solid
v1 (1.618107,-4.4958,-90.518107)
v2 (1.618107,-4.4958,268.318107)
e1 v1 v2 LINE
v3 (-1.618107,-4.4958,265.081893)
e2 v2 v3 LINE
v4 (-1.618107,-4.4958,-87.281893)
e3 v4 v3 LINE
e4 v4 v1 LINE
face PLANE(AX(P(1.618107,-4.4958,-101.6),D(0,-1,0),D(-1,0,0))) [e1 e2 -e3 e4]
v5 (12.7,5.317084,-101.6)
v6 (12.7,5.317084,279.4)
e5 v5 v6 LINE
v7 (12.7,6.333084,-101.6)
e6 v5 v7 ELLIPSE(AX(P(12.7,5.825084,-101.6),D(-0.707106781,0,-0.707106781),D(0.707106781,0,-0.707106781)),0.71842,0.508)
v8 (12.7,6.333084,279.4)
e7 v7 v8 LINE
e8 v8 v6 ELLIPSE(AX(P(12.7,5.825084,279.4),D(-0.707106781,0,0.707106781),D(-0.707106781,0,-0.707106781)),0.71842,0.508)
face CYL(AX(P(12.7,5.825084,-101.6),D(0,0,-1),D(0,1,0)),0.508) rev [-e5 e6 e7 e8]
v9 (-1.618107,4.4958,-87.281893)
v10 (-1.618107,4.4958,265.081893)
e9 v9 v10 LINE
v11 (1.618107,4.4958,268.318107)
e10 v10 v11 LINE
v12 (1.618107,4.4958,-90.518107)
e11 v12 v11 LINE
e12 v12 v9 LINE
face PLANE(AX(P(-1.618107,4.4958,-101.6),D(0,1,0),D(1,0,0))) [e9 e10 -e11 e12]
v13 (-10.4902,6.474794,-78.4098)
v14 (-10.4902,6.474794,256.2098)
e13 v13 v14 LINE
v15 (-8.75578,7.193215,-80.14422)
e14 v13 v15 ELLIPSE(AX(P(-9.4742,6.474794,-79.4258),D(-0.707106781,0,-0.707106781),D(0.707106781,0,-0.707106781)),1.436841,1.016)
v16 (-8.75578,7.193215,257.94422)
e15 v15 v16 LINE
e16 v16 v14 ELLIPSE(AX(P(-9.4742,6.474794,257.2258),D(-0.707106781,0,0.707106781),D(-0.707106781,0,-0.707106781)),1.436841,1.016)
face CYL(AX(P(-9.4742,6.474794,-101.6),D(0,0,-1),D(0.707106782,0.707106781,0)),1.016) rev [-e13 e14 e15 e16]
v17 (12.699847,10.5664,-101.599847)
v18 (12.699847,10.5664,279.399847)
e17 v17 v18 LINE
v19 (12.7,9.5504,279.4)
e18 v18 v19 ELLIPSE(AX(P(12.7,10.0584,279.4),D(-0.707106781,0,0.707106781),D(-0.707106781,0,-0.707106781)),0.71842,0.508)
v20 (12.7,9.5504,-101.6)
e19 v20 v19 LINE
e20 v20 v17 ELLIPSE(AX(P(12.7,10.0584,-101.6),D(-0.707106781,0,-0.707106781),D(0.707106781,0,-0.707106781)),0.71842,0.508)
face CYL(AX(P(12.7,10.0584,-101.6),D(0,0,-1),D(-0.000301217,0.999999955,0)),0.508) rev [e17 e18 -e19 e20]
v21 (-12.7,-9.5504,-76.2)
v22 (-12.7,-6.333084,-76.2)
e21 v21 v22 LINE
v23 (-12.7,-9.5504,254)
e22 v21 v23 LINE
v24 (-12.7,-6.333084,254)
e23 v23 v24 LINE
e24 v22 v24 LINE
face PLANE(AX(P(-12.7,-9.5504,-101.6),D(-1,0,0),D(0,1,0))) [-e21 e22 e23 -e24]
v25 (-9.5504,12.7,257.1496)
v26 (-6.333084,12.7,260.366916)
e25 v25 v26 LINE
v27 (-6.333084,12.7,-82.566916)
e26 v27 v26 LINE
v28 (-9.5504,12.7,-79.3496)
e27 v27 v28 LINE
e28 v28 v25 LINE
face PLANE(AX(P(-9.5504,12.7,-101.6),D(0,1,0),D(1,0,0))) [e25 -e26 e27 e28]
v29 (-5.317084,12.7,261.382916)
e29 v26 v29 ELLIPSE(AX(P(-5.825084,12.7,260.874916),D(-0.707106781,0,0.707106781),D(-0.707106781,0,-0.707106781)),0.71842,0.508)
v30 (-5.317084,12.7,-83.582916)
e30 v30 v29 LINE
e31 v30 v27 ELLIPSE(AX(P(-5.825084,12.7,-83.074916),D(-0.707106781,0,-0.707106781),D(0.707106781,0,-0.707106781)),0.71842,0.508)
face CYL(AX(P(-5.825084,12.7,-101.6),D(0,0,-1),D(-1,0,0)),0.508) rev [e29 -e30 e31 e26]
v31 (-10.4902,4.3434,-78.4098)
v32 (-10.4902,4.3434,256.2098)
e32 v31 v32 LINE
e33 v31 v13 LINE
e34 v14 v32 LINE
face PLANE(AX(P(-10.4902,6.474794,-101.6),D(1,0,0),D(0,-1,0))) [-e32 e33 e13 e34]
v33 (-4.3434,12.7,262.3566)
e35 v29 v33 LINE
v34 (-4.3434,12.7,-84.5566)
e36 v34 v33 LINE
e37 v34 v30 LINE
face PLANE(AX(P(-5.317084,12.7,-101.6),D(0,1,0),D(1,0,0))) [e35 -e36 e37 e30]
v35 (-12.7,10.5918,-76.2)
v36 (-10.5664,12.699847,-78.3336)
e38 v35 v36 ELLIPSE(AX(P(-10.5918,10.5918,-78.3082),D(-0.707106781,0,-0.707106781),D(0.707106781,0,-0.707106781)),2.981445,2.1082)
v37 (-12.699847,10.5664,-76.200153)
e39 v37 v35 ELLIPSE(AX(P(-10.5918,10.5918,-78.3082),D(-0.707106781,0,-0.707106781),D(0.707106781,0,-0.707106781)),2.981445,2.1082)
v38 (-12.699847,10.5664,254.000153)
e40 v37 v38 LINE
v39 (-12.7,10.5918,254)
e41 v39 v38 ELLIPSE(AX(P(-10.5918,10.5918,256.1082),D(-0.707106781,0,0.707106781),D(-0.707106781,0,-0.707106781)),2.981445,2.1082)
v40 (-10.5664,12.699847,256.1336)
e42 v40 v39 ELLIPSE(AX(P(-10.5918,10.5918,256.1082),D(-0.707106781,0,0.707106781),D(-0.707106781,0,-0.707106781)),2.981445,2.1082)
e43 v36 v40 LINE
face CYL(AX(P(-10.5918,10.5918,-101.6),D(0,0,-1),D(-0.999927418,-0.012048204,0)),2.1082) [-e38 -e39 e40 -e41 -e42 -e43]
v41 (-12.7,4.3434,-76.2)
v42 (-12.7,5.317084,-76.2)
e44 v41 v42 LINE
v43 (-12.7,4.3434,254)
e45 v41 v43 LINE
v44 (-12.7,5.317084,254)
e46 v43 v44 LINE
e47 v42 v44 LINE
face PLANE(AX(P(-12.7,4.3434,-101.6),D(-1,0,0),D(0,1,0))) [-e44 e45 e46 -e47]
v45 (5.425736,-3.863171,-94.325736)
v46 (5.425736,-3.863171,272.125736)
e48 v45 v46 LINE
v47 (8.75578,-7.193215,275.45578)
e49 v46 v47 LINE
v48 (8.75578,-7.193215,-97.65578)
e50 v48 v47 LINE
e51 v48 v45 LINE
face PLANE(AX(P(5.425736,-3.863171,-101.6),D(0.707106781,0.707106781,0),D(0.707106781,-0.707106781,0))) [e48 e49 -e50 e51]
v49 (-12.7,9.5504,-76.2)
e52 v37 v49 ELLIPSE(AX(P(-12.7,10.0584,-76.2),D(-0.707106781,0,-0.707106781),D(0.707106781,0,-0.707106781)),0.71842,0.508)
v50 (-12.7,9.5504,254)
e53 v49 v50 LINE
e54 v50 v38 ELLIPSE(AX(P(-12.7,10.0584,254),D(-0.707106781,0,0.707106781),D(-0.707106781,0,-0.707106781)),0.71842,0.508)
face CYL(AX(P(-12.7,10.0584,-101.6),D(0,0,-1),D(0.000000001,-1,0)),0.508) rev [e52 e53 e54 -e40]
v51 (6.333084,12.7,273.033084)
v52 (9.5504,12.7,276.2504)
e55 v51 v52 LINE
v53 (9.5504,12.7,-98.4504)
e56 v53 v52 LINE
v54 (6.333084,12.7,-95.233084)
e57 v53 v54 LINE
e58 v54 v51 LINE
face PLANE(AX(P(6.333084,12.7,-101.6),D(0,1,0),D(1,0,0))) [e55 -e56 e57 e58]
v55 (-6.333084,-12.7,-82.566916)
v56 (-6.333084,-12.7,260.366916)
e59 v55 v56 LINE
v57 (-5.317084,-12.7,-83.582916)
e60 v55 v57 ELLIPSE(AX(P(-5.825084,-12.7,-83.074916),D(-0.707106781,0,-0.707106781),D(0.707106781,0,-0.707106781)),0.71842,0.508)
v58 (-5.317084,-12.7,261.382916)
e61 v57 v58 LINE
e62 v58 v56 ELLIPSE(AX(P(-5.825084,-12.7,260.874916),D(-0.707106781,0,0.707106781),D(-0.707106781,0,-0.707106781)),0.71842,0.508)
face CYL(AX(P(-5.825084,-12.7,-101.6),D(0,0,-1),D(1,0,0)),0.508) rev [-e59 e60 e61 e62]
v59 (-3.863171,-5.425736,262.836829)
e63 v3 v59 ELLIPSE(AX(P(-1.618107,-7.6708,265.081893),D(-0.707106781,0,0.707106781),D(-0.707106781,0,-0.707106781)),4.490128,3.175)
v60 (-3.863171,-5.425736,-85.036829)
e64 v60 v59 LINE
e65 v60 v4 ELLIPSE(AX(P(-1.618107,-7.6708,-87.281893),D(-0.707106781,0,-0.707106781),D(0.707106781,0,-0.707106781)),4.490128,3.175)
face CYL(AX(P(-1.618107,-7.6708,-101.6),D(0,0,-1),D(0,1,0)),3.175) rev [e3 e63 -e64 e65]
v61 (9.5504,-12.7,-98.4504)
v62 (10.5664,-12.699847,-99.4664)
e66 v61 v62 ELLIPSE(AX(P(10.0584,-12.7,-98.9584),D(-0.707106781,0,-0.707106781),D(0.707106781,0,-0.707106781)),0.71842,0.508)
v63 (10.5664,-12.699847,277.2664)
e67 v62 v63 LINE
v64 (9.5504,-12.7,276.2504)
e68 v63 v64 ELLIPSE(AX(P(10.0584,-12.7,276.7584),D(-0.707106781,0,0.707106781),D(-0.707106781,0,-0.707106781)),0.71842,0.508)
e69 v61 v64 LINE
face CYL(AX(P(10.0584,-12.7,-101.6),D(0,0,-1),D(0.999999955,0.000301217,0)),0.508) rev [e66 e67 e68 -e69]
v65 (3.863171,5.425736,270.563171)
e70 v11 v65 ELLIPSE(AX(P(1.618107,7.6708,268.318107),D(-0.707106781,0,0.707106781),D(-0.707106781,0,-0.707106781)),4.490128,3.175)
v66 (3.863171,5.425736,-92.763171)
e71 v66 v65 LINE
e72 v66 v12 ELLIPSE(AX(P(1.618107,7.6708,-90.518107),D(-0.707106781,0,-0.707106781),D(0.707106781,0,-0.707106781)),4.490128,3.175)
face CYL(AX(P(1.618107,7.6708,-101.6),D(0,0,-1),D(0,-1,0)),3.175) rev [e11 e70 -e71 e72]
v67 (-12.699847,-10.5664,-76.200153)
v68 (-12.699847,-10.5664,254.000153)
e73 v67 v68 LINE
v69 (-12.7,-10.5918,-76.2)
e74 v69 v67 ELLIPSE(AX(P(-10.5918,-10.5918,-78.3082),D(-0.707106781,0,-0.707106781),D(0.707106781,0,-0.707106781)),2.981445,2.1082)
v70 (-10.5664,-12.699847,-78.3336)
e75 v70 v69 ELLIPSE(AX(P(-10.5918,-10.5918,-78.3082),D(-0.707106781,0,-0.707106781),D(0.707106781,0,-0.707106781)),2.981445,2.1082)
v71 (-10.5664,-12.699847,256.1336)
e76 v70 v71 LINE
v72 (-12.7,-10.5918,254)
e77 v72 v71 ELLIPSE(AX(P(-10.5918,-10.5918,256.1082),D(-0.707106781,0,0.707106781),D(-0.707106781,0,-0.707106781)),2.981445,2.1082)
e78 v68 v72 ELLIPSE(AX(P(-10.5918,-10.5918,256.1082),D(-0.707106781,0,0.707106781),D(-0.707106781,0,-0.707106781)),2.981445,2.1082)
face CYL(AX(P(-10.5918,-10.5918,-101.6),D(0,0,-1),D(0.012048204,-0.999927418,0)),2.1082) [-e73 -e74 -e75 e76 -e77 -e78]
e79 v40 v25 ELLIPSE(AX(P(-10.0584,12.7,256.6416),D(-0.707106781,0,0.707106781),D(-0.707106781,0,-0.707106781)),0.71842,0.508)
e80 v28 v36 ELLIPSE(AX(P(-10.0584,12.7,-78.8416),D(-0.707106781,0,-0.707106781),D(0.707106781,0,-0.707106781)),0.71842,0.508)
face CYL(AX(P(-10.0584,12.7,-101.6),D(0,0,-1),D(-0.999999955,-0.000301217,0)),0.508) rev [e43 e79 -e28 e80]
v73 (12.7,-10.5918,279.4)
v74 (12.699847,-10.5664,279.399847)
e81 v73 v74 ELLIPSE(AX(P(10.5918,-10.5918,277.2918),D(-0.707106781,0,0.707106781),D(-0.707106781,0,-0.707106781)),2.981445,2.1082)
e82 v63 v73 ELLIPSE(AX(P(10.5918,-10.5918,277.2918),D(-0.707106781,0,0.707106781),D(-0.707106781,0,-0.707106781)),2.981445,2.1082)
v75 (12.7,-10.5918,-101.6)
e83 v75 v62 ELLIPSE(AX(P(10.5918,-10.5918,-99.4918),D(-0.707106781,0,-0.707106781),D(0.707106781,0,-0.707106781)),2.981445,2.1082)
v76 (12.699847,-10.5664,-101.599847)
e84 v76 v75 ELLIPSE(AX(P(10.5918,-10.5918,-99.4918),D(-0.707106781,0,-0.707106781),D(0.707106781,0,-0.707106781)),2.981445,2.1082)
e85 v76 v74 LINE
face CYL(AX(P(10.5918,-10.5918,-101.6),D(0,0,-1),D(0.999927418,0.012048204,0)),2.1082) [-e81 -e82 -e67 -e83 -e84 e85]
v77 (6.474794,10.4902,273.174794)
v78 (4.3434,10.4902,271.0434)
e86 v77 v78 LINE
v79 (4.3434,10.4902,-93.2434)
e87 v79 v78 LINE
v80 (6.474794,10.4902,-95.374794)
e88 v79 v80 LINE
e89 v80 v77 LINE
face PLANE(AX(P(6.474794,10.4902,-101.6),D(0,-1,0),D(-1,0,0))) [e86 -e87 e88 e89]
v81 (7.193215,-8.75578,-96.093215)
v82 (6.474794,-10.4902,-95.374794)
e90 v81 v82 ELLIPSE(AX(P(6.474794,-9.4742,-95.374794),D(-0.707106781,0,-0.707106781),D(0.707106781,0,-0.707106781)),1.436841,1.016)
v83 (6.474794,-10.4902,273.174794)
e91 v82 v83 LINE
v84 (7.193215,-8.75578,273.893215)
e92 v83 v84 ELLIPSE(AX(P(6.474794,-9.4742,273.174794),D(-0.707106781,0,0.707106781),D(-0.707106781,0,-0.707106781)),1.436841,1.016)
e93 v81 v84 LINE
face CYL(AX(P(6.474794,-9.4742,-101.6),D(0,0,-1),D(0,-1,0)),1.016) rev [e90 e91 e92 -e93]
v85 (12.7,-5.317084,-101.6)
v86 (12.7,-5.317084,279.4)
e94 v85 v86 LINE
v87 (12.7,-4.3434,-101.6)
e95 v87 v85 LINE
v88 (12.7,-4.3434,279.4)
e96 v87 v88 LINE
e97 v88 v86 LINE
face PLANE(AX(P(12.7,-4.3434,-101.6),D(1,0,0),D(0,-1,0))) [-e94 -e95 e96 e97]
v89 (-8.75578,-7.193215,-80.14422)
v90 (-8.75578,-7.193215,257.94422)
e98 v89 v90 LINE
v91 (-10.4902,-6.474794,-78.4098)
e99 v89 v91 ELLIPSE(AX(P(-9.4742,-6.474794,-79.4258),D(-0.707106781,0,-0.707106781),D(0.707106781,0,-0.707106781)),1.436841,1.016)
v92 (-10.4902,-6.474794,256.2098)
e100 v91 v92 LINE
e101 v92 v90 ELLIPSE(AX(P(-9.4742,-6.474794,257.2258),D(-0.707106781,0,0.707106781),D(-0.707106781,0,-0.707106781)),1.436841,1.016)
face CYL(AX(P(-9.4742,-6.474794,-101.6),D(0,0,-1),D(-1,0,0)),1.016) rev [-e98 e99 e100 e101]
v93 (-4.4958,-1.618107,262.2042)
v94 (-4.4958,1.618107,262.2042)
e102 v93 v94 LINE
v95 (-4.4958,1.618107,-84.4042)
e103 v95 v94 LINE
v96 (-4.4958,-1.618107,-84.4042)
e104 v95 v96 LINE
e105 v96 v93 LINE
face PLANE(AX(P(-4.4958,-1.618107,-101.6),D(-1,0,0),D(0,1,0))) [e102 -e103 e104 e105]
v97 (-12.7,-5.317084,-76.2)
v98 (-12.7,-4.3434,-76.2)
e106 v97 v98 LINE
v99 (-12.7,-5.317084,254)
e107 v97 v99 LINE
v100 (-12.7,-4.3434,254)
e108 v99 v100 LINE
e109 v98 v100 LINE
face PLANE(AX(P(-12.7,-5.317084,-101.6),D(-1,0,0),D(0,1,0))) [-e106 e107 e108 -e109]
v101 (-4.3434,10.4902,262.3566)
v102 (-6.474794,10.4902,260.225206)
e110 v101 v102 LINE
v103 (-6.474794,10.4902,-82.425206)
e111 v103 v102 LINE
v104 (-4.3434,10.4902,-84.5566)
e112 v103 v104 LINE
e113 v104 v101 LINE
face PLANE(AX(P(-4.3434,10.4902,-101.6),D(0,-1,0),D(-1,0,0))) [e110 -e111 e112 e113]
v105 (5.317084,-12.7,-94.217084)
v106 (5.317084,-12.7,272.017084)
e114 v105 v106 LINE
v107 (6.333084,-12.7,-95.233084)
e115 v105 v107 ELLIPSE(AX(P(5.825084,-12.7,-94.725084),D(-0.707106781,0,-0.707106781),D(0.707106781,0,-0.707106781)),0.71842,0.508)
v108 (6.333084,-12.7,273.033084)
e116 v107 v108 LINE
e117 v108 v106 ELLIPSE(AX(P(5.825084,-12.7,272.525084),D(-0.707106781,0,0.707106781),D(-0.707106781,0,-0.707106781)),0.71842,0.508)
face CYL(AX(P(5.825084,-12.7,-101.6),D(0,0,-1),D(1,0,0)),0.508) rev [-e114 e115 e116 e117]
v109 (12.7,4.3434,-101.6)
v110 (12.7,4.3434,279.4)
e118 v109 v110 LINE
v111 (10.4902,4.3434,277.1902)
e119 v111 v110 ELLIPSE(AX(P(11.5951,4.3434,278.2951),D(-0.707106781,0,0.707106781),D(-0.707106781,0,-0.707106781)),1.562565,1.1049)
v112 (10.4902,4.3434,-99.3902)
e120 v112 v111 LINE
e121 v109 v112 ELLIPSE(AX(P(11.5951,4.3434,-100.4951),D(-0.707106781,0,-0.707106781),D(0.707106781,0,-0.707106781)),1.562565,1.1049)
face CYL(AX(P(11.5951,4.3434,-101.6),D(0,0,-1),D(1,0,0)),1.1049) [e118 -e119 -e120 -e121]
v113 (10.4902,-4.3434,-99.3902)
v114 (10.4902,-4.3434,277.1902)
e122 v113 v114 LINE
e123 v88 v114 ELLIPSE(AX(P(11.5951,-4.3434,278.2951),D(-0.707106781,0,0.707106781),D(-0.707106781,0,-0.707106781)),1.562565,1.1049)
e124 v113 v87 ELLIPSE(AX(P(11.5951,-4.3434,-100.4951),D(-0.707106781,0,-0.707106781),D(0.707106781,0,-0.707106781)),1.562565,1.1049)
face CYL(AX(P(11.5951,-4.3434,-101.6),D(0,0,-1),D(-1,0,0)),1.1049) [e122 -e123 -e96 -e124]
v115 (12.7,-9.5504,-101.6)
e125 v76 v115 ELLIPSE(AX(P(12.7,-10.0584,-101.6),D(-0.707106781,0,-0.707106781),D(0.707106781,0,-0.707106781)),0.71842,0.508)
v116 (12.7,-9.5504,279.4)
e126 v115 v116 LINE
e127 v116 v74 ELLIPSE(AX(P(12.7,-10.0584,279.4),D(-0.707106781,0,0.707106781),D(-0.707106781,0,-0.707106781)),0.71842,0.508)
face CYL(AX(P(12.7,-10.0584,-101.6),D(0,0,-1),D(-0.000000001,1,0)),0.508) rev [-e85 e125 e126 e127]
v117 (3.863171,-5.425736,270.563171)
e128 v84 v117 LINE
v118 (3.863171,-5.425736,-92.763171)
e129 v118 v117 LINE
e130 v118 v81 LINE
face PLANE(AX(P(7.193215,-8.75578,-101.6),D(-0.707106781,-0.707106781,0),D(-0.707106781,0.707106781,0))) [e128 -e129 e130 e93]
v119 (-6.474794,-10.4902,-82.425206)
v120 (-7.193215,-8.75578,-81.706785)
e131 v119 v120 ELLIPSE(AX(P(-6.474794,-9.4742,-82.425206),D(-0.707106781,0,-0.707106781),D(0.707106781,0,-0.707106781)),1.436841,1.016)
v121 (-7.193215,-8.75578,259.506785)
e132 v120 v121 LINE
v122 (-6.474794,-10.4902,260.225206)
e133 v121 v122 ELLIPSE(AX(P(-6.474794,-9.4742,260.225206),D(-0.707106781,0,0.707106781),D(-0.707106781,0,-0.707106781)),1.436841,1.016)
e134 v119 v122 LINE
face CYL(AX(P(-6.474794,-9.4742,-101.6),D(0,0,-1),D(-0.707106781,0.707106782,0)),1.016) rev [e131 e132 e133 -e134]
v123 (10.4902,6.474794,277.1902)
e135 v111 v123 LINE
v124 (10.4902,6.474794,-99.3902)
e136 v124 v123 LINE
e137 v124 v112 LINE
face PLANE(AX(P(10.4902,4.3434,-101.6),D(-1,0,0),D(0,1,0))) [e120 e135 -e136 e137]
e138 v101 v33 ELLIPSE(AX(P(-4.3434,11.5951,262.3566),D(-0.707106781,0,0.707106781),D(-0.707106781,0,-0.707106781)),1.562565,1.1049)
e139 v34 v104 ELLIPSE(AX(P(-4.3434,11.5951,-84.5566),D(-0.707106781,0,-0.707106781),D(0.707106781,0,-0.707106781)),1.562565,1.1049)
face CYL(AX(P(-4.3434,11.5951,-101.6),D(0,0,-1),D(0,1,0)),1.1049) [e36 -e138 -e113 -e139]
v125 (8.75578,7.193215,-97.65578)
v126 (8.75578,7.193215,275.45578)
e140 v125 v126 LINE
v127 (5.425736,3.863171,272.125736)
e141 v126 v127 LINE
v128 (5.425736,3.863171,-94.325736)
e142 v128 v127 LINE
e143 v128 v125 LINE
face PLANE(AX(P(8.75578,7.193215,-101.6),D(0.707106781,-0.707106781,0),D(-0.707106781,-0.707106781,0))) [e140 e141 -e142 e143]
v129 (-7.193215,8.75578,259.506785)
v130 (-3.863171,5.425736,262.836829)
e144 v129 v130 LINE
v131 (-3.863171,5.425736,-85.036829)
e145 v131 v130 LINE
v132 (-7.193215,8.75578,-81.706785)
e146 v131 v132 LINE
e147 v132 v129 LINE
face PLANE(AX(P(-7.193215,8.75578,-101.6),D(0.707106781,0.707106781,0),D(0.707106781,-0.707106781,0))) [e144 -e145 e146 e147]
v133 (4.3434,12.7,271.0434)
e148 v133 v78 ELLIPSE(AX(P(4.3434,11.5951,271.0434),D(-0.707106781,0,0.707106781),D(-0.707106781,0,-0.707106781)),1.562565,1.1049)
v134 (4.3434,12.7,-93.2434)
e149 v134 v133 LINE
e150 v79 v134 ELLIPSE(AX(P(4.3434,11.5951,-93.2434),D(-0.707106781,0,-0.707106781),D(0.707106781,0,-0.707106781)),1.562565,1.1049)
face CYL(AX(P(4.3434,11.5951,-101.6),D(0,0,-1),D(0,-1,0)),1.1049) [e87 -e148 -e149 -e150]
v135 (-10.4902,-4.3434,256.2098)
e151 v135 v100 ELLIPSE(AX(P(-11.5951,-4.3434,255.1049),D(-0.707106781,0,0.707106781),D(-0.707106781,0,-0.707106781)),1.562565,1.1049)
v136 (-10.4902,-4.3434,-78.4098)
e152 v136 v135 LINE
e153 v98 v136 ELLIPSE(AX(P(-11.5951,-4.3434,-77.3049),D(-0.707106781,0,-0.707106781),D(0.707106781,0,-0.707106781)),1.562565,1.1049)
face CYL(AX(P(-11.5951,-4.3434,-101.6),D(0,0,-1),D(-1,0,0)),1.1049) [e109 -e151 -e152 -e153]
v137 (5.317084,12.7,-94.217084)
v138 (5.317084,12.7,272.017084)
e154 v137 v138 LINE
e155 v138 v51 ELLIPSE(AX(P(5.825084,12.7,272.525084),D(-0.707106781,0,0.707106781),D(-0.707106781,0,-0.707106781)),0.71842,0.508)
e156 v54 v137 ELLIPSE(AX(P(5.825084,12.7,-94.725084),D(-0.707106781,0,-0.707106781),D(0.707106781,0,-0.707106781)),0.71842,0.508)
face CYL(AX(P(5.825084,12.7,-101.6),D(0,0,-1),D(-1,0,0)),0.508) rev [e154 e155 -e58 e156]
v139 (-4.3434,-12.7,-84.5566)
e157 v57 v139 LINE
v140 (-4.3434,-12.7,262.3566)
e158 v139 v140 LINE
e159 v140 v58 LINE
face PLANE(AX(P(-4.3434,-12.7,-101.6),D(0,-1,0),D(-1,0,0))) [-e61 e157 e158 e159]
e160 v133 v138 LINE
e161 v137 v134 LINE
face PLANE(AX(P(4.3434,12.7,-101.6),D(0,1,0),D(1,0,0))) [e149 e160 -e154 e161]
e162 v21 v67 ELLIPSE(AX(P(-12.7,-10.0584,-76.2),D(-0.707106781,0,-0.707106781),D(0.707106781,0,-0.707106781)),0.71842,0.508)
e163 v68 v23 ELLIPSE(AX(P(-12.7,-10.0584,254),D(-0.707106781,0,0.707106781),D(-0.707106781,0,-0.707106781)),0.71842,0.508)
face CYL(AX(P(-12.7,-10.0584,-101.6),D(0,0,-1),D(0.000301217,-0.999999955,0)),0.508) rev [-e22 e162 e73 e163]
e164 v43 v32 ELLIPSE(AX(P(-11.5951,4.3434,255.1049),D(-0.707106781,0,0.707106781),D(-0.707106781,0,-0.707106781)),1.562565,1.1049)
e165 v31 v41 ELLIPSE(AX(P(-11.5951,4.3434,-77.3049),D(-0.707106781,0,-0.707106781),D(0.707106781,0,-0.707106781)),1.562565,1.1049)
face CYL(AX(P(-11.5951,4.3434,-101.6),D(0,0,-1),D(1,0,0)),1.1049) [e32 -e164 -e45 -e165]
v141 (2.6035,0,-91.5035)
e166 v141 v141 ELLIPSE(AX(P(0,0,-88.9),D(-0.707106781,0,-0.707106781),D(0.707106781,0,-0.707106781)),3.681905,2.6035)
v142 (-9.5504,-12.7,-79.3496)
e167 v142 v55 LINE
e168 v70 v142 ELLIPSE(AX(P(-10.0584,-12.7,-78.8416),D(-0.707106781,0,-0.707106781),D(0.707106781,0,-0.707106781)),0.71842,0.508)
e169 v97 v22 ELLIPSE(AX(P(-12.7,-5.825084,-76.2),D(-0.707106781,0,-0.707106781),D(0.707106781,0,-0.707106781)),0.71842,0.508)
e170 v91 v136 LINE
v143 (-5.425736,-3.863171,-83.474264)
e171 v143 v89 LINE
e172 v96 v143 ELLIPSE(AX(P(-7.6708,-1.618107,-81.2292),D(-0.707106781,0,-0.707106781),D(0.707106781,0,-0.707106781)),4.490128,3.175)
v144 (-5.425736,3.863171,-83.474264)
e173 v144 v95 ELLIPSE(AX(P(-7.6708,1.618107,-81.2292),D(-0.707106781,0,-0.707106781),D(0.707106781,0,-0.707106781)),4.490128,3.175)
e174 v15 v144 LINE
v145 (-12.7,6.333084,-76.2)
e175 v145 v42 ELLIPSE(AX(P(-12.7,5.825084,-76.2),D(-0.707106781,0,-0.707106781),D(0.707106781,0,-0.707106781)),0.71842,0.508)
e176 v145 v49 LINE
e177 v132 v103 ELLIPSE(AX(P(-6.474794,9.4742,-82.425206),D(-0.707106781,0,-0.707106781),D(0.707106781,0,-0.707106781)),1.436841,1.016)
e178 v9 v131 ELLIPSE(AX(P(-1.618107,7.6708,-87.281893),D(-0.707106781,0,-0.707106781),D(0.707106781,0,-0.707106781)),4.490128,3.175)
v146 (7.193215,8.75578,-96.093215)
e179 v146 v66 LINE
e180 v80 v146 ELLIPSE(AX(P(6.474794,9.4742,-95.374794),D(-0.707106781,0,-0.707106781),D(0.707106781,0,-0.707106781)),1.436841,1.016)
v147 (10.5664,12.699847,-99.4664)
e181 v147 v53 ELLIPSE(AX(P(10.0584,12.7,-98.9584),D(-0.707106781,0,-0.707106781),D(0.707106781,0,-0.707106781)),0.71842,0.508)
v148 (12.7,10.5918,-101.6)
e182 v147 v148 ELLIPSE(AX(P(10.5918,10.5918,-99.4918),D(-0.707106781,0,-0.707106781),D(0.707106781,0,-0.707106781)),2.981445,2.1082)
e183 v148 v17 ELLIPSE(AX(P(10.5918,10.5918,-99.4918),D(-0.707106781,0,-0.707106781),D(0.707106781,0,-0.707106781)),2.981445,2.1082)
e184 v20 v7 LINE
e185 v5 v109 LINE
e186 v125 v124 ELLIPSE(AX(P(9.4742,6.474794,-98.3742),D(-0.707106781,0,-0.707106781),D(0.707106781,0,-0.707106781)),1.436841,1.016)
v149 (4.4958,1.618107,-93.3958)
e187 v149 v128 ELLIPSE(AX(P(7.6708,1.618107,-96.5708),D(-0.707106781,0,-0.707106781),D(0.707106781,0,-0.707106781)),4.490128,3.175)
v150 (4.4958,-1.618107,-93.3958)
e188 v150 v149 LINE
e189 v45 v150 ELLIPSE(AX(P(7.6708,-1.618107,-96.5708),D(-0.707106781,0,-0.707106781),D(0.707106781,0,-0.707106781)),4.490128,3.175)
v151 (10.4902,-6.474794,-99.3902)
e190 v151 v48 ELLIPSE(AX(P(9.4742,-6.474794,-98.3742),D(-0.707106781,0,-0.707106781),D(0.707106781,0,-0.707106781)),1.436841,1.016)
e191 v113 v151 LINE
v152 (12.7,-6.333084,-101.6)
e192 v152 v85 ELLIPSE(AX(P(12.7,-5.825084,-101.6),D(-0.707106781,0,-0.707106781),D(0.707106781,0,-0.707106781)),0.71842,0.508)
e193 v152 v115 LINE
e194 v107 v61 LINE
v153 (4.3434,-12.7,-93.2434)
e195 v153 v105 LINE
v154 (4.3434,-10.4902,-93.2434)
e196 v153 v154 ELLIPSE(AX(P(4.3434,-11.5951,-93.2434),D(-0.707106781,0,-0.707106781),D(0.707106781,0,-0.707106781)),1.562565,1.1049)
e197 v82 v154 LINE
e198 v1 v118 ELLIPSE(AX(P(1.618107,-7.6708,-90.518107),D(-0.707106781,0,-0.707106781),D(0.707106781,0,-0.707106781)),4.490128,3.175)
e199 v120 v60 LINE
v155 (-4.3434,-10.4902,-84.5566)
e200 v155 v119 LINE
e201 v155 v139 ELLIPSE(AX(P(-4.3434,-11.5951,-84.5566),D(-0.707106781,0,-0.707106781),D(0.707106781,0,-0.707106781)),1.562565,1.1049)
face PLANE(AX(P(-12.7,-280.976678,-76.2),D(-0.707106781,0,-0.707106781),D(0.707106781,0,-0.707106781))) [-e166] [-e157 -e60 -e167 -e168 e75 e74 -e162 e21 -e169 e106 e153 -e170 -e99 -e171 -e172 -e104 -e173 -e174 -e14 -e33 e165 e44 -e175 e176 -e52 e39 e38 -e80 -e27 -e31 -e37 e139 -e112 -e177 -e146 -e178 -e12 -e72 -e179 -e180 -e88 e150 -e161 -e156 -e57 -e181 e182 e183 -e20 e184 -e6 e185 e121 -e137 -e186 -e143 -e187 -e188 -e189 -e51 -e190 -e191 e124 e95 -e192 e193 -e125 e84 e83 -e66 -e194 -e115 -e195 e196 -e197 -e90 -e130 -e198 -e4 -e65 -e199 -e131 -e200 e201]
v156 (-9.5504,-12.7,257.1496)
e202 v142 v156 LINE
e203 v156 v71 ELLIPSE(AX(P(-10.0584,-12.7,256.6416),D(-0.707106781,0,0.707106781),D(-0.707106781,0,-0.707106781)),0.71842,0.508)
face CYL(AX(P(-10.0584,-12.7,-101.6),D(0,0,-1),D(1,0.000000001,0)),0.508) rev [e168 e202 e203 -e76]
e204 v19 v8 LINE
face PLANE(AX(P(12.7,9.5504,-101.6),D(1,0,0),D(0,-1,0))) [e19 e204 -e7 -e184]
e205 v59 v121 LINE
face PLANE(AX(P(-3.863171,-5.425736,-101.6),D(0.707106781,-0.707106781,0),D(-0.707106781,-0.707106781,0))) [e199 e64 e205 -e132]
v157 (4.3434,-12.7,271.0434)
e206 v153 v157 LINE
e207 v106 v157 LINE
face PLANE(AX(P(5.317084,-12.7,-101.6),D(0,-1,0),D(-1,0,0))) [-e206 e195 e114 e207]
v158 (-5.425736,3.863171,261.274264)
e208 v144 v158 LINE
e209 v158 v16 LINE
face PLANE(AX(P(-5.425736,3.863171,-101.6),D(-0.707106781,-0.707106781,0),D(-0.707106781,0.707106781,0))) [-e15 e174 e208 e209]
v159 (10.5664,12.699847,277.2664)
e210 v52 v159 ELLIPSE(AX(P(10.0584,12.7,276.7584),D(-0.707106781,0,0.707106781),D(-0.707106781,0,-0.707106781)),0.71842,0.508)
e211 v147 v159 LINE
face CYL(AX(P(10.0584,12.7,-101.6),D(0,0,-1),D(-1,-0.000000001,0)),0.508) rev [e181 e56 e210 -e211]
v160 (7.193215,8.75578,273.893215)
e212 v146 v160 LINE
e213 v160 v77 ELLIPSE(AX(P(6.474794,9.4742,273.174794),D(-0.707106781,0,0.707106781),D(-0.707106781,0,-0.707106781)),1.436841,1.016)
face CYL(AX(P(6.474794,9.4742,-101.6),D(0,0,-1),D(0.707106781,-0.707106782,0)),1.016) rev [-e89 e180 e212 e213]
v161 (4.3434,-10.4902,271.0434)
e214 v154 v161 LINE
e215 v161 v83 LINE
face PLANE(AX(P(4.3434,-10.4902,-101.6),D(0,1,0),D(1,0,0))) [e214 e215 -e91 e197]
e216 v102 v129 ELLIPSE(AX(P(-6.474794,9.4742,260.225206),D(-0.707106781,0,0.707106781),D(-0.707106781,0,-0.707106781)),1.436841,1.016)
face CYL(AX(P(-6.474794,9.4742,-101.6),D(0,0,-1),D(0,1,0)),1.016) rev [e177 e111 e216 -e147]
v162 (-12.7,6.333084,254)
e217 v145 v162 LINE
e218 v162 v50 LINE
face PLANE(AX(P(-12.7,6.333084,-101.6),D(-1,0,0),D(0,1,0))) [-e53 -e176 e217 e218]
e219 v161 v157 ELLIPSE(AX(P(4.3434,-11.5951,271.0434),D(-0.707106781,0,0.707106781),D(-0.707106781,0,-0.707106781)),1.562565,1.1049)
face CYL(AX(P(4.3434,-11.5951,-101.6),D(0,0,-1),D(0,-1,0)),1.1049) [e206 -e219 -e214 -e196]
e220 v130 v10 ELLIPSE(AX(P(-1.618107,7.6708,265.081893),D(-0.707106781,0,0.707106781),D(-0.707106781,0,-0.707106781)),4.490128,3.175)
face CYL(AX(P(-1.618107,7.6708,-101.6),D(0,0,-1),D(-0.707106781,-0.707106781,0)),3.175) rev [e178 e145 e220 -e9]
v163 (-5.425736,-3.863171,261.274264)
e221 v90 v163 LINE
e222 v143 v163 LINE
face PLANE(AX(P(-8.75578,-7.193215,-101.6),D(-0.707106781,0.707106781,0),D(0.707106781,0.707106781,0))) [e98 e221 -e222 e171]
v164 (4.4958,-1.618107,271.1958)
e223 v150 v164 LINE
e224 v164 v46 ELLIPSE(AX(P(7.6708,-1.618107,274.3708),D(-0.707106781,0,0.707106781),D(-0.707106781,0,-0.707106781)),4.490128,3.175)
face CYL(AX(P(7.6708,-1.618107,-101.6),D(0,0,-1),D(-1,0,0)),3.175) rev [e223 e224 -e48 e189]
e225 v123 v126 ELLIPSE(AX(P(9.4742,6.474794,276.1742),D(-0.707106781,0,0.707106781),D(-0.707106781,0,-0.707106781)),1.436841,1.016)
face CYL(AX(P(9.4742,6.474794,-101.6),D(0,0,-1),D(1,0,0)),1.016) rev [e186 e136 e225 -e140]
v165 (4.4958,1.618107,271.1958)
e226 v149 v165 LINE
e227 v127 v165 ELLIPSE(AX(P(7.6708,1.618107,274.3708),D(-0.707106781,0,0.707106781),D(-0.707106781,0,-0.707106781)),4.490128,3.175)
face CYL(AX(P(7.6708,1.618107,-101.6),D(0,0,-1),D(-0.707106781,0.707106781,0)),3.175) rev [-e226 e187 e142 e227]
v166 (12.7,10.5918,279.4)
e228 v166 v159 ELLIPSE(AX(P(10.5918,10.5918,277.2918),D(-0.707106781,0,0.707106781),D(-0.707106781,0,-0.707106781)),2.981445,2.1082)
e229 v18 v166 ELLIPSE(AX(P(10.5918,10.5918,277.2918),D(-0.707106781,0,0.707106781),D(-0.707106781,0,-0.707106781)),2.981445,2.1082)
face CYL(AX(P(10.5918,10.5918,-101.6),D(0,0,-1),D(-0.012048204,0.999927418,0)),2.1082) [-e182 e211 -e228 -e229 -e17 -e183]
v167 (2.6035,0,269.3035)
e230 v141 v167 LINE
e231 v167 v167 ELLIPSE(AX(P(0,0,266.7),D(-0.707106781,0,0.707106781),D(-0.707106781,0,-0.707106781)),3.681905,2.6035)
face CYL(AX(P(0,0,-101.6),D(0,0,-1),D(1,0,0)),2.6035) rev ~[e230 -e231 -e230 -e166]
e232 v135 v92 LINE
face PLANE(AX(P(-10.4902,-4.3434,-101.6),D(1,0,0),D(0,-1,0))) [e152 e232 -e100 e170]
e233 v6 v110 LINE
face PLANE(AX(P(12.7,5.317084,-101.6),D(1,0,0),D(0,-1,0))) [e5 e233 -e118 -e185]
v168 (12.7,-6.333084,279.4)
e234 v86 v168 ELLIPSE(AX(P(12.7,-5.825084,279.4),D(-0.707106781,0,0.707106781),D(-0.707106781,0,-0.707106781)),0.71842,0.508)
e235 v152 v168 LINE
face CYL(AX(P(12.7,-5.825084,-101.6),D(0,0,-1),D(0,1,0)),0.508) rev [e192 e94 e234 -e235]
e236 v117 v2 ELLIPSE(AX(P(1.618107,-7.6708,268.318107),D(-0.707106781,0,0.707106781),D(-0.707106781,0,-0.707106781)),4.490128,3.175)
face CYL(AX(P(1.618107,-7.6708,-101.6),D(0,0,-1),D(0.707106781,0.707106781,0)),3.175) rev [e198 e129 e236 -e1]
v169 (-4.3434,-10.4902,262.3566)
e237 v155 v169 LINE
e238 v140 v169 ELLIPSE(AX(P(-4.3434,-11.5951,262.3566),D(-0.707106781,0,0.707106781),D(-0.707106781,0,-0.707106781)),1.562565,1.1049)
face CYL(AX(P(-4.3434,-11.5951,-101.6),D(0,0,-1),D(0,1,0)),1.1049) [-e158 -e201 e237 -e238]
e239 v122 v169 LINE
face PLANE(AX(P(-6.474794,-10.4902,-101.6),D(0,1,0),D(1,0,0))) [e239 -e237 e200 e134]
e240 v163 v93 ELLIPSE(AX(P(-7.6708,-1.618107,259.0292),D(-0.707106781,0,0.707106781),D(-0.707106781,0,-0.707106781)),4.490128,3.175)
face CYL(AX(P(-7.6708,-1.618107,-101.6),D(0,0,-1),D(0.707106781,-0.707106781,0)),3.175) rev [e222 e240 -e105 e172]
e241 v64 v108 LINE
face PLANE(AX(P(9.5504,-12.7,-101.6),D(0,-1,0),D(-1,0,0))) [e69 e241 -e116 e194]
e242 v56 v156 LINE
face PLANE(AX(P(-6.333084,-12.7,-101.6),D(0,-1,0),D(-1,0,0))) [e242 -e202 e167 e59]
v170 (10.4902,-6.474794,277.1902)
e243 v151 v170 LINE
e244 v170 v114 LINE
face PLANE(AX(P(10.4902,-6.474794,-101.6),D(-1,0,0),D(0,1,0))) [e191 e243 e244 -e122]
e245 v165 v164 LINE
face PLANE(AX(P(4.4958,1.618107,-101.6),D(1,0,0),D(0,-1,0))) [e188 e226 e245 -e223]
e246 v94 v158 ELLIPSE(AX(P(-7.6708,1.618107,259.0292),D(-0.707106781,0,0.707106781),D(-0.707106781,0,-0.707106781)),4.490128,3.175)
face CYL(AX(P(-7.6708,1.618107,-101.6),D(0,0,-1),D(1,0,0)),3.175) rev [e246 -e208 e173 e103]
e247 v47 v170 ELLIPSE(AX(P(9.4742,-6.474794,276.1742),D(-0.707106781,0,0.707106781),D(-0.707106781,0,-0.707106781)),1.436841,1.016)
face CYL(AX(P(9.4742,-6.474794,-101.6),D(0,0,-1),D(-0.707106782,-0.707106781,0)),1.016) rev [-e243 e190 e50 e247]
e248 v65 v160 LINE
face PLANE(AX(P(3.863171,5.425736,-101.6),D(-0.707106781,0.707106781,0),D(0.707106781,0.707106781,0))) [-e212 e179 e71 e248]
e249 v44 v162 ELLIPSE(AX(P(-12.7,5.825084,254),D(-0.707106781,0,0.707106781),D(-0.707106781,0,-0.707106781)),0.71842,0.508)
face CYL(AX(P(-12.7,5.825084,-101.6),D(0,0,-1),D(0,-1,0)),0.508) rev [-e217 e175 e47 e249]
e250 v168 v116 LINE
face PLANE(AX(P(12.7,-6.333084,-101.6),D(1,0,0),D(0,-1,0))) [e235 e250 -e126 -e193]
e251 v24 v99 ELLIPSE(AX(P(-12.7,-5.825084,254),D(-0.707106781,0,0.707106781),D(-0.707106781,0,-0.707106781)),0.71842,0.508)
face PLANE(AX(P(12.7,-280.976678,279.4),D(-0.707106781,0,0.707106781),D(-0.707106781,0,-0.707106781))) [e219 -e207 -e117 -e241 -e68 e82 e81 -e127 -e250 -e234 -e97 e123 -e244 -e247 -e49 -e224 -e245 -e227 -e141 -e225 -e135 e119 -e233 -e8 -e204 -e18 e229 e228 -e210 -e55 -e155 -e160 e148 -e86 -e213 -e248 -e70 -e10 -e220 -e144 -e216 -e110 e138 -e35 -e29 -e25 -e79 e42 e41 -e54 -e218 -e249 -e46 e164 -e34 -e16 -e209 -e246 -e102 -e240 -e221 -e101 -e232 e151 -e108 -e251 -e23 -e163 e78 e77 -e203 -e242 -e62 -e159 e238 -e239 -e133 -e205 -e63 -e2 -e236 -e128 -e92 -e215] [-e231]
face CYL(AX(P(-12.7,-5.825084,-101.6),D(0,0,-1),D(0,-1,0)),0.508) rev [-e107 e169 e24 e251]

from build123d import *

# Parameters (mm, degrees)
SKETCH1_R               = 2.6035
BOSS_EXTRUDE1_DEPTH     = 381
CUT_EXTRUDE2_DEPTH      = 280.9766776
CUT_EXTRUDE2_DEPTH_BACK = 280.9766776
CUT_EXTRUDE3_DEPTH      = 280.9766776
CUT_EXTRUDE3_DEPTH_BACK = 280.9766776


with BuildPart() as part:
    # Sketch1 → Boss-Extrude1 (new body)
    with BuildSketch(Plane(origin=(0, 0, -101.6), x_dir=(-1, 0, 0), z_dir=(0, 0, -1))):
        with BuildLine():
            Line((12.7, -9.5504), (12.7, -6.3330836))
            ThreePointArc((12.7, -6.3330836), (12.192, -5.8250836), (12.7, -5.3170836))
            Line((12.7, -5.3170836), (12.7, -4.3434))
            ThreePointArc((12.7, -4.3434), (11.5951, -3.2385), (10.4902, -4.3434))
            Line((10.4902, -4.3434), (10.4902, -6.474794456))
            ThreePointArc((10.4902, -6.474794456), (9.863006367, -7.413456061), (8.75577951, -7.193214945))
            Line((8.75577951, -7.193214945), (5.42573597, -3.863171405))
            ThreePointArc((5.42573597, -3.863171405), (4.737482484, -2.833127272), (4.4958, -1.618107374))
            Line((4.4958, -1.618107374), (4.4958, 1.618107374))
            ThreePointArc((4.4958, 1.618107374), (4.737482484, 2.833127272), (5.42573597, 3.863171405))
            Line((5.42573597, 3.863171405), (8.75577951, 7.193214945))
            ThreePointArc((8.75577951, 7.193214945), (9.863006367, 7.413456061), (10.4902, 6.474794456))
            Line((10.4902, 6.474794456), (10.4902, 4.343399971))
            ThreePointArc((10.4902, 4.343399971), (11.5951, 3.238499971), (12.7, 4.343399971))
            Line((12.7, 4.343399971), (12.7, 5.3170836))
            ThreePointArc((12.7, 5.3170836), (12.192, 5.8250836), (12.7, 6.3330836))
            Line((12.7, 6.3330836), (12.7, 9.5504))
            ThreePointArc((12.7, 9.5504), (12.192000006, 10.058323491), (12.699846982, 10.566399977))
            ThreePointArc((12.699846982, 10.566399977), (12.082522516, 12.082522516), (10.566399977, 12.699846982))
            ThreePointArc((10.566399977, 12.699846982), (10.058323491, 12.192000006), (9.5504, 12.7))
            Line((9.5504, 12.7), (6.3330836, 12.7))
            ThreePointArc((6.3330836, 12.7), (5.8250836, 12.192), (5.3170836, 12.7))
            Line((5.3170836, 12.7), (4.3434, 12.7))
            ThreePointArc((4.3434, 12.7), (3.2385, 11.5951), (4.3434, 10.4902))
            Line((4.3434, 10.4902), (6.474794456, 10.4902))
            ThreePointArc((6.474794456, 10.4902), (7.413456061, 9.863006367), (7.193214945, 8.75577951))
            Line((7.193214945, 8.75577951), (3.863171405, 5.42573597))
            ThreePointArc((3.863171405, 5.42573597), (2.833127272, 4.737482484), (1.618107374, 4.4958))
            Line((1.618107374, 4.4958), (-1.618107374, 4.4958))
            ThreePointArc((-1.618107374, 4.4958), (-2.833127272, 4.737482484), (-3.863171405, 5.42573597))
            Line((-3.863171405, 5.42573597), (-7.193214945, 8.75577951))
            ThreePointArc((-7.193214945, 8.75577951), (-7.413456061, 9.863006367), (-6.474794456, 10.4902))
            Line((-6.474794456, 10.4902), (-4.343399971, 10.4902))
            ThreePointArc((-4.343399971, 10.4902), (-3.238499971, 11.5951), (-4.343399971, 12.7))
            Line((-4.343399971, 12.7), (-5.3170836, 12.7))
            ThreePointArc((-5.3170836, 12.7), (-5.8250836, 12.192), (-6.3330836, 12.7))
            Line((-6.3330836, 12.7), (-9.5504, 12.7))
            ThreePointArc((-9.5504, 12.7), (-10.058323491, 12.192000006), (-10.566399977, 12.699846982))
            ThreePointArc((-10.566399977, 12.699846982), (-12.082522516, 12.082522516), (-12.699846982, 10.566399977))
            ThreePointArc((-12.699846982, 10.566399977), (-12.192000006, 10.058323491), (-12.7, 9.5504))
            Line((-12.7, 9.5504), (-12.7, 6.3330836))
            ThreePointArc((-12.7, 6.3330836), (-12.192, 5.8250836), (-12.7, 5.3170836))
            Line((-12.7, 5.3170836), (-12.7, 4.3434))
            ThreePointArc((-12.7, 4.3434), (-11.5951, 3.2385), (-10.4902, 4.3434))
            Line((-10.4902, 4.3434), (-10.4902, 6.474794456))
            ThreePointArc((-10.4902, 6.474794456), (-9.863006367, 7.413456061), (-8.75577951, 7.193214945))
            Line((-8.75577951, 7.193214945), (-5.42573597, 3.863171405))
            ThreePointArc((-5.42573597, 3.863171405), (-4.737482484, 2.833127272), (-4.4958, 1.618107374))
            Line((-4.4958, 1.618107374), (-4.4958, -1.618107374))
            ThreePointArc((-4.4958, -1.618107374), (-4.737482484, -2.833127272), (-5.42573597, -3.863171405))
            Line((-5.42573597, -3.863171405), (-8.75577951, -7.193214945))
            ThreePointArc((-8.75577951, -7.193214945), (-9.863006367, -7.413456061), (-10.4902, -6.474794456))
            Line((-10.4902, -6.474794456), (-10.4902, -4.343399971))
            ThreePointArc((-10.4902, -4.343399971), (-11.5951, -3.238499971), (-12.7, -4.343399971))
            Line((-12.7, -4.343399971), (-12.7, -5.3170836))
            ThreePointArc((-12.7, -5.3170836), (-12.192, -5.8250836), (-12.7, -6.3330836))
            Line((-12.7, -6.3330836), (-12.7, -9.5504))
            ThreePointArc((-12.7, -9.5504), (-12.192000006, -10.058323491), (-12.699846982, -10.566399977))
            ThreePointArc((-12.699846982, -10.566399977), (-12.082522516, -12.082522516), (-10.566399977, -12.699846982))
            ThreePointArc((-10.566399977, -12.699846982), (-10.058323491, -12.192000006), (-9.5504, -12.7))
            Line((-9.5504, -12.7), (-6.3330836, -12.7))
            ThreePointArc((-6.3330836, -12.7), (-5.8250836, -12.192), (-5.3170836, -12.7))
            Line((-5.3170836, -12.7), (-4.3434, -12.7))
            ThreePointArc((-4.3434, -12.7), (-3.2385, -11.5951), (-4.3434, -10.4902))
            Line((-4.3434, -10.4902), (-6.474794456, -10.4902))
            ThreePointArc((-6.474794456, -10.4902), (-7.413456061, -9.863006367), (-7.193214945, -8.75577951))
            Line((-7.193214945, -8.75577951), (-3.863171405, -5.42573597))
            ThreePointArc((-3.863171405, -5.42573597), (-2.833127272, -4.737482484), (-1.618107374, -4.4958))
            Line((-1.618107374, -4.4958), (1.618107374, -4.4958))
            ThreePointArc((1.618107374, -4.4958), (2.833127272, -4.737482484), (3.863171405, -5.42573597))
            Line((3.863171405, -5.42573597), (7.193214945, -8.75577951))
            ThreePointArc((7.193214945, -8.75577951), (7.413456061, -9.863006367), (6.474794456, -10.4902))
            Line((6.474794456, -10.4902), (4.343399971, -10.4902))
            ThreePointArc((4.343399971, -10.4902), (3.238499971, -11.5951), (4.343399971, -12.7))
            Line((4.343399971, -12.7), (5.3170836, -12.7))
            ThreePointArc((5.3170836, -12.7), (5.8250836, -12.192), (6.3330836, -12.7))
            Line((6.3330836, -12.7), (9.5504, -12.7))
            ThreePointArc((9.5504, -12.7), (10.058323491, -12.192000006), (10.566399977, -12.699846982))
            ThreePointArc((10.566399977, -12.699846982), (12.082522516, -12.082522516), (12.699846982, -10.566399977))
            ThreePointArc((12.699846982, -10.566399977), (12.192000006, -10.058323491), (12.7, -9.5504))
        make_face()
        with Locations(Location((0, 0, 0), (0, 0, 180))):
            Circle(SKETCH1_R, mode=Mode.SUBTRACT)
    extrude(amount=-BOSS_EXTRUDE1_DEPTH)

    # Sketch2 → Cut-Extrude2 (cut, two sides: drawn at the far end of the back side and taken through both)
    with BuildSketch(Plane(origin=(0, 0, 0), x_dir=(1, 0, 0), z_dir=(0, 1, 0)).offset(-CUT_EXTRUDE2_DEPTH_BACK)):
        Polygon((12.7, 101.6), (-12.7, 101.6), (-12.7, 76.2), align=None)
    extrude(amount=CUT_EXTRUDE2_DEPTH + CUT_EXTRUDE2_DEPTH_BACK, mode=Mode.SUBTRACT)

    # Sketch4 → Cut-Extrude3 (cut, two sides: drawn at the far end of the back side and taken through both)
    with BuildSketch(Plane(origin=(0, 0, 0), x_dir=(1, 0, 0), z_dir=(0, 1, 0)).offset(-CUT_EXTRUDE3_DEPTH_BACK)):
        Polygon((-12.7, -279.4), (12.7, -279.4), (-12.7, -254), align=None)
    extrude(amount=CUT_EXTRUDE3_DEPTH + CUT_EXTRUDE3_DEPTH_BACK, mode=Mode.SUBTRACT)


solid = part.part
